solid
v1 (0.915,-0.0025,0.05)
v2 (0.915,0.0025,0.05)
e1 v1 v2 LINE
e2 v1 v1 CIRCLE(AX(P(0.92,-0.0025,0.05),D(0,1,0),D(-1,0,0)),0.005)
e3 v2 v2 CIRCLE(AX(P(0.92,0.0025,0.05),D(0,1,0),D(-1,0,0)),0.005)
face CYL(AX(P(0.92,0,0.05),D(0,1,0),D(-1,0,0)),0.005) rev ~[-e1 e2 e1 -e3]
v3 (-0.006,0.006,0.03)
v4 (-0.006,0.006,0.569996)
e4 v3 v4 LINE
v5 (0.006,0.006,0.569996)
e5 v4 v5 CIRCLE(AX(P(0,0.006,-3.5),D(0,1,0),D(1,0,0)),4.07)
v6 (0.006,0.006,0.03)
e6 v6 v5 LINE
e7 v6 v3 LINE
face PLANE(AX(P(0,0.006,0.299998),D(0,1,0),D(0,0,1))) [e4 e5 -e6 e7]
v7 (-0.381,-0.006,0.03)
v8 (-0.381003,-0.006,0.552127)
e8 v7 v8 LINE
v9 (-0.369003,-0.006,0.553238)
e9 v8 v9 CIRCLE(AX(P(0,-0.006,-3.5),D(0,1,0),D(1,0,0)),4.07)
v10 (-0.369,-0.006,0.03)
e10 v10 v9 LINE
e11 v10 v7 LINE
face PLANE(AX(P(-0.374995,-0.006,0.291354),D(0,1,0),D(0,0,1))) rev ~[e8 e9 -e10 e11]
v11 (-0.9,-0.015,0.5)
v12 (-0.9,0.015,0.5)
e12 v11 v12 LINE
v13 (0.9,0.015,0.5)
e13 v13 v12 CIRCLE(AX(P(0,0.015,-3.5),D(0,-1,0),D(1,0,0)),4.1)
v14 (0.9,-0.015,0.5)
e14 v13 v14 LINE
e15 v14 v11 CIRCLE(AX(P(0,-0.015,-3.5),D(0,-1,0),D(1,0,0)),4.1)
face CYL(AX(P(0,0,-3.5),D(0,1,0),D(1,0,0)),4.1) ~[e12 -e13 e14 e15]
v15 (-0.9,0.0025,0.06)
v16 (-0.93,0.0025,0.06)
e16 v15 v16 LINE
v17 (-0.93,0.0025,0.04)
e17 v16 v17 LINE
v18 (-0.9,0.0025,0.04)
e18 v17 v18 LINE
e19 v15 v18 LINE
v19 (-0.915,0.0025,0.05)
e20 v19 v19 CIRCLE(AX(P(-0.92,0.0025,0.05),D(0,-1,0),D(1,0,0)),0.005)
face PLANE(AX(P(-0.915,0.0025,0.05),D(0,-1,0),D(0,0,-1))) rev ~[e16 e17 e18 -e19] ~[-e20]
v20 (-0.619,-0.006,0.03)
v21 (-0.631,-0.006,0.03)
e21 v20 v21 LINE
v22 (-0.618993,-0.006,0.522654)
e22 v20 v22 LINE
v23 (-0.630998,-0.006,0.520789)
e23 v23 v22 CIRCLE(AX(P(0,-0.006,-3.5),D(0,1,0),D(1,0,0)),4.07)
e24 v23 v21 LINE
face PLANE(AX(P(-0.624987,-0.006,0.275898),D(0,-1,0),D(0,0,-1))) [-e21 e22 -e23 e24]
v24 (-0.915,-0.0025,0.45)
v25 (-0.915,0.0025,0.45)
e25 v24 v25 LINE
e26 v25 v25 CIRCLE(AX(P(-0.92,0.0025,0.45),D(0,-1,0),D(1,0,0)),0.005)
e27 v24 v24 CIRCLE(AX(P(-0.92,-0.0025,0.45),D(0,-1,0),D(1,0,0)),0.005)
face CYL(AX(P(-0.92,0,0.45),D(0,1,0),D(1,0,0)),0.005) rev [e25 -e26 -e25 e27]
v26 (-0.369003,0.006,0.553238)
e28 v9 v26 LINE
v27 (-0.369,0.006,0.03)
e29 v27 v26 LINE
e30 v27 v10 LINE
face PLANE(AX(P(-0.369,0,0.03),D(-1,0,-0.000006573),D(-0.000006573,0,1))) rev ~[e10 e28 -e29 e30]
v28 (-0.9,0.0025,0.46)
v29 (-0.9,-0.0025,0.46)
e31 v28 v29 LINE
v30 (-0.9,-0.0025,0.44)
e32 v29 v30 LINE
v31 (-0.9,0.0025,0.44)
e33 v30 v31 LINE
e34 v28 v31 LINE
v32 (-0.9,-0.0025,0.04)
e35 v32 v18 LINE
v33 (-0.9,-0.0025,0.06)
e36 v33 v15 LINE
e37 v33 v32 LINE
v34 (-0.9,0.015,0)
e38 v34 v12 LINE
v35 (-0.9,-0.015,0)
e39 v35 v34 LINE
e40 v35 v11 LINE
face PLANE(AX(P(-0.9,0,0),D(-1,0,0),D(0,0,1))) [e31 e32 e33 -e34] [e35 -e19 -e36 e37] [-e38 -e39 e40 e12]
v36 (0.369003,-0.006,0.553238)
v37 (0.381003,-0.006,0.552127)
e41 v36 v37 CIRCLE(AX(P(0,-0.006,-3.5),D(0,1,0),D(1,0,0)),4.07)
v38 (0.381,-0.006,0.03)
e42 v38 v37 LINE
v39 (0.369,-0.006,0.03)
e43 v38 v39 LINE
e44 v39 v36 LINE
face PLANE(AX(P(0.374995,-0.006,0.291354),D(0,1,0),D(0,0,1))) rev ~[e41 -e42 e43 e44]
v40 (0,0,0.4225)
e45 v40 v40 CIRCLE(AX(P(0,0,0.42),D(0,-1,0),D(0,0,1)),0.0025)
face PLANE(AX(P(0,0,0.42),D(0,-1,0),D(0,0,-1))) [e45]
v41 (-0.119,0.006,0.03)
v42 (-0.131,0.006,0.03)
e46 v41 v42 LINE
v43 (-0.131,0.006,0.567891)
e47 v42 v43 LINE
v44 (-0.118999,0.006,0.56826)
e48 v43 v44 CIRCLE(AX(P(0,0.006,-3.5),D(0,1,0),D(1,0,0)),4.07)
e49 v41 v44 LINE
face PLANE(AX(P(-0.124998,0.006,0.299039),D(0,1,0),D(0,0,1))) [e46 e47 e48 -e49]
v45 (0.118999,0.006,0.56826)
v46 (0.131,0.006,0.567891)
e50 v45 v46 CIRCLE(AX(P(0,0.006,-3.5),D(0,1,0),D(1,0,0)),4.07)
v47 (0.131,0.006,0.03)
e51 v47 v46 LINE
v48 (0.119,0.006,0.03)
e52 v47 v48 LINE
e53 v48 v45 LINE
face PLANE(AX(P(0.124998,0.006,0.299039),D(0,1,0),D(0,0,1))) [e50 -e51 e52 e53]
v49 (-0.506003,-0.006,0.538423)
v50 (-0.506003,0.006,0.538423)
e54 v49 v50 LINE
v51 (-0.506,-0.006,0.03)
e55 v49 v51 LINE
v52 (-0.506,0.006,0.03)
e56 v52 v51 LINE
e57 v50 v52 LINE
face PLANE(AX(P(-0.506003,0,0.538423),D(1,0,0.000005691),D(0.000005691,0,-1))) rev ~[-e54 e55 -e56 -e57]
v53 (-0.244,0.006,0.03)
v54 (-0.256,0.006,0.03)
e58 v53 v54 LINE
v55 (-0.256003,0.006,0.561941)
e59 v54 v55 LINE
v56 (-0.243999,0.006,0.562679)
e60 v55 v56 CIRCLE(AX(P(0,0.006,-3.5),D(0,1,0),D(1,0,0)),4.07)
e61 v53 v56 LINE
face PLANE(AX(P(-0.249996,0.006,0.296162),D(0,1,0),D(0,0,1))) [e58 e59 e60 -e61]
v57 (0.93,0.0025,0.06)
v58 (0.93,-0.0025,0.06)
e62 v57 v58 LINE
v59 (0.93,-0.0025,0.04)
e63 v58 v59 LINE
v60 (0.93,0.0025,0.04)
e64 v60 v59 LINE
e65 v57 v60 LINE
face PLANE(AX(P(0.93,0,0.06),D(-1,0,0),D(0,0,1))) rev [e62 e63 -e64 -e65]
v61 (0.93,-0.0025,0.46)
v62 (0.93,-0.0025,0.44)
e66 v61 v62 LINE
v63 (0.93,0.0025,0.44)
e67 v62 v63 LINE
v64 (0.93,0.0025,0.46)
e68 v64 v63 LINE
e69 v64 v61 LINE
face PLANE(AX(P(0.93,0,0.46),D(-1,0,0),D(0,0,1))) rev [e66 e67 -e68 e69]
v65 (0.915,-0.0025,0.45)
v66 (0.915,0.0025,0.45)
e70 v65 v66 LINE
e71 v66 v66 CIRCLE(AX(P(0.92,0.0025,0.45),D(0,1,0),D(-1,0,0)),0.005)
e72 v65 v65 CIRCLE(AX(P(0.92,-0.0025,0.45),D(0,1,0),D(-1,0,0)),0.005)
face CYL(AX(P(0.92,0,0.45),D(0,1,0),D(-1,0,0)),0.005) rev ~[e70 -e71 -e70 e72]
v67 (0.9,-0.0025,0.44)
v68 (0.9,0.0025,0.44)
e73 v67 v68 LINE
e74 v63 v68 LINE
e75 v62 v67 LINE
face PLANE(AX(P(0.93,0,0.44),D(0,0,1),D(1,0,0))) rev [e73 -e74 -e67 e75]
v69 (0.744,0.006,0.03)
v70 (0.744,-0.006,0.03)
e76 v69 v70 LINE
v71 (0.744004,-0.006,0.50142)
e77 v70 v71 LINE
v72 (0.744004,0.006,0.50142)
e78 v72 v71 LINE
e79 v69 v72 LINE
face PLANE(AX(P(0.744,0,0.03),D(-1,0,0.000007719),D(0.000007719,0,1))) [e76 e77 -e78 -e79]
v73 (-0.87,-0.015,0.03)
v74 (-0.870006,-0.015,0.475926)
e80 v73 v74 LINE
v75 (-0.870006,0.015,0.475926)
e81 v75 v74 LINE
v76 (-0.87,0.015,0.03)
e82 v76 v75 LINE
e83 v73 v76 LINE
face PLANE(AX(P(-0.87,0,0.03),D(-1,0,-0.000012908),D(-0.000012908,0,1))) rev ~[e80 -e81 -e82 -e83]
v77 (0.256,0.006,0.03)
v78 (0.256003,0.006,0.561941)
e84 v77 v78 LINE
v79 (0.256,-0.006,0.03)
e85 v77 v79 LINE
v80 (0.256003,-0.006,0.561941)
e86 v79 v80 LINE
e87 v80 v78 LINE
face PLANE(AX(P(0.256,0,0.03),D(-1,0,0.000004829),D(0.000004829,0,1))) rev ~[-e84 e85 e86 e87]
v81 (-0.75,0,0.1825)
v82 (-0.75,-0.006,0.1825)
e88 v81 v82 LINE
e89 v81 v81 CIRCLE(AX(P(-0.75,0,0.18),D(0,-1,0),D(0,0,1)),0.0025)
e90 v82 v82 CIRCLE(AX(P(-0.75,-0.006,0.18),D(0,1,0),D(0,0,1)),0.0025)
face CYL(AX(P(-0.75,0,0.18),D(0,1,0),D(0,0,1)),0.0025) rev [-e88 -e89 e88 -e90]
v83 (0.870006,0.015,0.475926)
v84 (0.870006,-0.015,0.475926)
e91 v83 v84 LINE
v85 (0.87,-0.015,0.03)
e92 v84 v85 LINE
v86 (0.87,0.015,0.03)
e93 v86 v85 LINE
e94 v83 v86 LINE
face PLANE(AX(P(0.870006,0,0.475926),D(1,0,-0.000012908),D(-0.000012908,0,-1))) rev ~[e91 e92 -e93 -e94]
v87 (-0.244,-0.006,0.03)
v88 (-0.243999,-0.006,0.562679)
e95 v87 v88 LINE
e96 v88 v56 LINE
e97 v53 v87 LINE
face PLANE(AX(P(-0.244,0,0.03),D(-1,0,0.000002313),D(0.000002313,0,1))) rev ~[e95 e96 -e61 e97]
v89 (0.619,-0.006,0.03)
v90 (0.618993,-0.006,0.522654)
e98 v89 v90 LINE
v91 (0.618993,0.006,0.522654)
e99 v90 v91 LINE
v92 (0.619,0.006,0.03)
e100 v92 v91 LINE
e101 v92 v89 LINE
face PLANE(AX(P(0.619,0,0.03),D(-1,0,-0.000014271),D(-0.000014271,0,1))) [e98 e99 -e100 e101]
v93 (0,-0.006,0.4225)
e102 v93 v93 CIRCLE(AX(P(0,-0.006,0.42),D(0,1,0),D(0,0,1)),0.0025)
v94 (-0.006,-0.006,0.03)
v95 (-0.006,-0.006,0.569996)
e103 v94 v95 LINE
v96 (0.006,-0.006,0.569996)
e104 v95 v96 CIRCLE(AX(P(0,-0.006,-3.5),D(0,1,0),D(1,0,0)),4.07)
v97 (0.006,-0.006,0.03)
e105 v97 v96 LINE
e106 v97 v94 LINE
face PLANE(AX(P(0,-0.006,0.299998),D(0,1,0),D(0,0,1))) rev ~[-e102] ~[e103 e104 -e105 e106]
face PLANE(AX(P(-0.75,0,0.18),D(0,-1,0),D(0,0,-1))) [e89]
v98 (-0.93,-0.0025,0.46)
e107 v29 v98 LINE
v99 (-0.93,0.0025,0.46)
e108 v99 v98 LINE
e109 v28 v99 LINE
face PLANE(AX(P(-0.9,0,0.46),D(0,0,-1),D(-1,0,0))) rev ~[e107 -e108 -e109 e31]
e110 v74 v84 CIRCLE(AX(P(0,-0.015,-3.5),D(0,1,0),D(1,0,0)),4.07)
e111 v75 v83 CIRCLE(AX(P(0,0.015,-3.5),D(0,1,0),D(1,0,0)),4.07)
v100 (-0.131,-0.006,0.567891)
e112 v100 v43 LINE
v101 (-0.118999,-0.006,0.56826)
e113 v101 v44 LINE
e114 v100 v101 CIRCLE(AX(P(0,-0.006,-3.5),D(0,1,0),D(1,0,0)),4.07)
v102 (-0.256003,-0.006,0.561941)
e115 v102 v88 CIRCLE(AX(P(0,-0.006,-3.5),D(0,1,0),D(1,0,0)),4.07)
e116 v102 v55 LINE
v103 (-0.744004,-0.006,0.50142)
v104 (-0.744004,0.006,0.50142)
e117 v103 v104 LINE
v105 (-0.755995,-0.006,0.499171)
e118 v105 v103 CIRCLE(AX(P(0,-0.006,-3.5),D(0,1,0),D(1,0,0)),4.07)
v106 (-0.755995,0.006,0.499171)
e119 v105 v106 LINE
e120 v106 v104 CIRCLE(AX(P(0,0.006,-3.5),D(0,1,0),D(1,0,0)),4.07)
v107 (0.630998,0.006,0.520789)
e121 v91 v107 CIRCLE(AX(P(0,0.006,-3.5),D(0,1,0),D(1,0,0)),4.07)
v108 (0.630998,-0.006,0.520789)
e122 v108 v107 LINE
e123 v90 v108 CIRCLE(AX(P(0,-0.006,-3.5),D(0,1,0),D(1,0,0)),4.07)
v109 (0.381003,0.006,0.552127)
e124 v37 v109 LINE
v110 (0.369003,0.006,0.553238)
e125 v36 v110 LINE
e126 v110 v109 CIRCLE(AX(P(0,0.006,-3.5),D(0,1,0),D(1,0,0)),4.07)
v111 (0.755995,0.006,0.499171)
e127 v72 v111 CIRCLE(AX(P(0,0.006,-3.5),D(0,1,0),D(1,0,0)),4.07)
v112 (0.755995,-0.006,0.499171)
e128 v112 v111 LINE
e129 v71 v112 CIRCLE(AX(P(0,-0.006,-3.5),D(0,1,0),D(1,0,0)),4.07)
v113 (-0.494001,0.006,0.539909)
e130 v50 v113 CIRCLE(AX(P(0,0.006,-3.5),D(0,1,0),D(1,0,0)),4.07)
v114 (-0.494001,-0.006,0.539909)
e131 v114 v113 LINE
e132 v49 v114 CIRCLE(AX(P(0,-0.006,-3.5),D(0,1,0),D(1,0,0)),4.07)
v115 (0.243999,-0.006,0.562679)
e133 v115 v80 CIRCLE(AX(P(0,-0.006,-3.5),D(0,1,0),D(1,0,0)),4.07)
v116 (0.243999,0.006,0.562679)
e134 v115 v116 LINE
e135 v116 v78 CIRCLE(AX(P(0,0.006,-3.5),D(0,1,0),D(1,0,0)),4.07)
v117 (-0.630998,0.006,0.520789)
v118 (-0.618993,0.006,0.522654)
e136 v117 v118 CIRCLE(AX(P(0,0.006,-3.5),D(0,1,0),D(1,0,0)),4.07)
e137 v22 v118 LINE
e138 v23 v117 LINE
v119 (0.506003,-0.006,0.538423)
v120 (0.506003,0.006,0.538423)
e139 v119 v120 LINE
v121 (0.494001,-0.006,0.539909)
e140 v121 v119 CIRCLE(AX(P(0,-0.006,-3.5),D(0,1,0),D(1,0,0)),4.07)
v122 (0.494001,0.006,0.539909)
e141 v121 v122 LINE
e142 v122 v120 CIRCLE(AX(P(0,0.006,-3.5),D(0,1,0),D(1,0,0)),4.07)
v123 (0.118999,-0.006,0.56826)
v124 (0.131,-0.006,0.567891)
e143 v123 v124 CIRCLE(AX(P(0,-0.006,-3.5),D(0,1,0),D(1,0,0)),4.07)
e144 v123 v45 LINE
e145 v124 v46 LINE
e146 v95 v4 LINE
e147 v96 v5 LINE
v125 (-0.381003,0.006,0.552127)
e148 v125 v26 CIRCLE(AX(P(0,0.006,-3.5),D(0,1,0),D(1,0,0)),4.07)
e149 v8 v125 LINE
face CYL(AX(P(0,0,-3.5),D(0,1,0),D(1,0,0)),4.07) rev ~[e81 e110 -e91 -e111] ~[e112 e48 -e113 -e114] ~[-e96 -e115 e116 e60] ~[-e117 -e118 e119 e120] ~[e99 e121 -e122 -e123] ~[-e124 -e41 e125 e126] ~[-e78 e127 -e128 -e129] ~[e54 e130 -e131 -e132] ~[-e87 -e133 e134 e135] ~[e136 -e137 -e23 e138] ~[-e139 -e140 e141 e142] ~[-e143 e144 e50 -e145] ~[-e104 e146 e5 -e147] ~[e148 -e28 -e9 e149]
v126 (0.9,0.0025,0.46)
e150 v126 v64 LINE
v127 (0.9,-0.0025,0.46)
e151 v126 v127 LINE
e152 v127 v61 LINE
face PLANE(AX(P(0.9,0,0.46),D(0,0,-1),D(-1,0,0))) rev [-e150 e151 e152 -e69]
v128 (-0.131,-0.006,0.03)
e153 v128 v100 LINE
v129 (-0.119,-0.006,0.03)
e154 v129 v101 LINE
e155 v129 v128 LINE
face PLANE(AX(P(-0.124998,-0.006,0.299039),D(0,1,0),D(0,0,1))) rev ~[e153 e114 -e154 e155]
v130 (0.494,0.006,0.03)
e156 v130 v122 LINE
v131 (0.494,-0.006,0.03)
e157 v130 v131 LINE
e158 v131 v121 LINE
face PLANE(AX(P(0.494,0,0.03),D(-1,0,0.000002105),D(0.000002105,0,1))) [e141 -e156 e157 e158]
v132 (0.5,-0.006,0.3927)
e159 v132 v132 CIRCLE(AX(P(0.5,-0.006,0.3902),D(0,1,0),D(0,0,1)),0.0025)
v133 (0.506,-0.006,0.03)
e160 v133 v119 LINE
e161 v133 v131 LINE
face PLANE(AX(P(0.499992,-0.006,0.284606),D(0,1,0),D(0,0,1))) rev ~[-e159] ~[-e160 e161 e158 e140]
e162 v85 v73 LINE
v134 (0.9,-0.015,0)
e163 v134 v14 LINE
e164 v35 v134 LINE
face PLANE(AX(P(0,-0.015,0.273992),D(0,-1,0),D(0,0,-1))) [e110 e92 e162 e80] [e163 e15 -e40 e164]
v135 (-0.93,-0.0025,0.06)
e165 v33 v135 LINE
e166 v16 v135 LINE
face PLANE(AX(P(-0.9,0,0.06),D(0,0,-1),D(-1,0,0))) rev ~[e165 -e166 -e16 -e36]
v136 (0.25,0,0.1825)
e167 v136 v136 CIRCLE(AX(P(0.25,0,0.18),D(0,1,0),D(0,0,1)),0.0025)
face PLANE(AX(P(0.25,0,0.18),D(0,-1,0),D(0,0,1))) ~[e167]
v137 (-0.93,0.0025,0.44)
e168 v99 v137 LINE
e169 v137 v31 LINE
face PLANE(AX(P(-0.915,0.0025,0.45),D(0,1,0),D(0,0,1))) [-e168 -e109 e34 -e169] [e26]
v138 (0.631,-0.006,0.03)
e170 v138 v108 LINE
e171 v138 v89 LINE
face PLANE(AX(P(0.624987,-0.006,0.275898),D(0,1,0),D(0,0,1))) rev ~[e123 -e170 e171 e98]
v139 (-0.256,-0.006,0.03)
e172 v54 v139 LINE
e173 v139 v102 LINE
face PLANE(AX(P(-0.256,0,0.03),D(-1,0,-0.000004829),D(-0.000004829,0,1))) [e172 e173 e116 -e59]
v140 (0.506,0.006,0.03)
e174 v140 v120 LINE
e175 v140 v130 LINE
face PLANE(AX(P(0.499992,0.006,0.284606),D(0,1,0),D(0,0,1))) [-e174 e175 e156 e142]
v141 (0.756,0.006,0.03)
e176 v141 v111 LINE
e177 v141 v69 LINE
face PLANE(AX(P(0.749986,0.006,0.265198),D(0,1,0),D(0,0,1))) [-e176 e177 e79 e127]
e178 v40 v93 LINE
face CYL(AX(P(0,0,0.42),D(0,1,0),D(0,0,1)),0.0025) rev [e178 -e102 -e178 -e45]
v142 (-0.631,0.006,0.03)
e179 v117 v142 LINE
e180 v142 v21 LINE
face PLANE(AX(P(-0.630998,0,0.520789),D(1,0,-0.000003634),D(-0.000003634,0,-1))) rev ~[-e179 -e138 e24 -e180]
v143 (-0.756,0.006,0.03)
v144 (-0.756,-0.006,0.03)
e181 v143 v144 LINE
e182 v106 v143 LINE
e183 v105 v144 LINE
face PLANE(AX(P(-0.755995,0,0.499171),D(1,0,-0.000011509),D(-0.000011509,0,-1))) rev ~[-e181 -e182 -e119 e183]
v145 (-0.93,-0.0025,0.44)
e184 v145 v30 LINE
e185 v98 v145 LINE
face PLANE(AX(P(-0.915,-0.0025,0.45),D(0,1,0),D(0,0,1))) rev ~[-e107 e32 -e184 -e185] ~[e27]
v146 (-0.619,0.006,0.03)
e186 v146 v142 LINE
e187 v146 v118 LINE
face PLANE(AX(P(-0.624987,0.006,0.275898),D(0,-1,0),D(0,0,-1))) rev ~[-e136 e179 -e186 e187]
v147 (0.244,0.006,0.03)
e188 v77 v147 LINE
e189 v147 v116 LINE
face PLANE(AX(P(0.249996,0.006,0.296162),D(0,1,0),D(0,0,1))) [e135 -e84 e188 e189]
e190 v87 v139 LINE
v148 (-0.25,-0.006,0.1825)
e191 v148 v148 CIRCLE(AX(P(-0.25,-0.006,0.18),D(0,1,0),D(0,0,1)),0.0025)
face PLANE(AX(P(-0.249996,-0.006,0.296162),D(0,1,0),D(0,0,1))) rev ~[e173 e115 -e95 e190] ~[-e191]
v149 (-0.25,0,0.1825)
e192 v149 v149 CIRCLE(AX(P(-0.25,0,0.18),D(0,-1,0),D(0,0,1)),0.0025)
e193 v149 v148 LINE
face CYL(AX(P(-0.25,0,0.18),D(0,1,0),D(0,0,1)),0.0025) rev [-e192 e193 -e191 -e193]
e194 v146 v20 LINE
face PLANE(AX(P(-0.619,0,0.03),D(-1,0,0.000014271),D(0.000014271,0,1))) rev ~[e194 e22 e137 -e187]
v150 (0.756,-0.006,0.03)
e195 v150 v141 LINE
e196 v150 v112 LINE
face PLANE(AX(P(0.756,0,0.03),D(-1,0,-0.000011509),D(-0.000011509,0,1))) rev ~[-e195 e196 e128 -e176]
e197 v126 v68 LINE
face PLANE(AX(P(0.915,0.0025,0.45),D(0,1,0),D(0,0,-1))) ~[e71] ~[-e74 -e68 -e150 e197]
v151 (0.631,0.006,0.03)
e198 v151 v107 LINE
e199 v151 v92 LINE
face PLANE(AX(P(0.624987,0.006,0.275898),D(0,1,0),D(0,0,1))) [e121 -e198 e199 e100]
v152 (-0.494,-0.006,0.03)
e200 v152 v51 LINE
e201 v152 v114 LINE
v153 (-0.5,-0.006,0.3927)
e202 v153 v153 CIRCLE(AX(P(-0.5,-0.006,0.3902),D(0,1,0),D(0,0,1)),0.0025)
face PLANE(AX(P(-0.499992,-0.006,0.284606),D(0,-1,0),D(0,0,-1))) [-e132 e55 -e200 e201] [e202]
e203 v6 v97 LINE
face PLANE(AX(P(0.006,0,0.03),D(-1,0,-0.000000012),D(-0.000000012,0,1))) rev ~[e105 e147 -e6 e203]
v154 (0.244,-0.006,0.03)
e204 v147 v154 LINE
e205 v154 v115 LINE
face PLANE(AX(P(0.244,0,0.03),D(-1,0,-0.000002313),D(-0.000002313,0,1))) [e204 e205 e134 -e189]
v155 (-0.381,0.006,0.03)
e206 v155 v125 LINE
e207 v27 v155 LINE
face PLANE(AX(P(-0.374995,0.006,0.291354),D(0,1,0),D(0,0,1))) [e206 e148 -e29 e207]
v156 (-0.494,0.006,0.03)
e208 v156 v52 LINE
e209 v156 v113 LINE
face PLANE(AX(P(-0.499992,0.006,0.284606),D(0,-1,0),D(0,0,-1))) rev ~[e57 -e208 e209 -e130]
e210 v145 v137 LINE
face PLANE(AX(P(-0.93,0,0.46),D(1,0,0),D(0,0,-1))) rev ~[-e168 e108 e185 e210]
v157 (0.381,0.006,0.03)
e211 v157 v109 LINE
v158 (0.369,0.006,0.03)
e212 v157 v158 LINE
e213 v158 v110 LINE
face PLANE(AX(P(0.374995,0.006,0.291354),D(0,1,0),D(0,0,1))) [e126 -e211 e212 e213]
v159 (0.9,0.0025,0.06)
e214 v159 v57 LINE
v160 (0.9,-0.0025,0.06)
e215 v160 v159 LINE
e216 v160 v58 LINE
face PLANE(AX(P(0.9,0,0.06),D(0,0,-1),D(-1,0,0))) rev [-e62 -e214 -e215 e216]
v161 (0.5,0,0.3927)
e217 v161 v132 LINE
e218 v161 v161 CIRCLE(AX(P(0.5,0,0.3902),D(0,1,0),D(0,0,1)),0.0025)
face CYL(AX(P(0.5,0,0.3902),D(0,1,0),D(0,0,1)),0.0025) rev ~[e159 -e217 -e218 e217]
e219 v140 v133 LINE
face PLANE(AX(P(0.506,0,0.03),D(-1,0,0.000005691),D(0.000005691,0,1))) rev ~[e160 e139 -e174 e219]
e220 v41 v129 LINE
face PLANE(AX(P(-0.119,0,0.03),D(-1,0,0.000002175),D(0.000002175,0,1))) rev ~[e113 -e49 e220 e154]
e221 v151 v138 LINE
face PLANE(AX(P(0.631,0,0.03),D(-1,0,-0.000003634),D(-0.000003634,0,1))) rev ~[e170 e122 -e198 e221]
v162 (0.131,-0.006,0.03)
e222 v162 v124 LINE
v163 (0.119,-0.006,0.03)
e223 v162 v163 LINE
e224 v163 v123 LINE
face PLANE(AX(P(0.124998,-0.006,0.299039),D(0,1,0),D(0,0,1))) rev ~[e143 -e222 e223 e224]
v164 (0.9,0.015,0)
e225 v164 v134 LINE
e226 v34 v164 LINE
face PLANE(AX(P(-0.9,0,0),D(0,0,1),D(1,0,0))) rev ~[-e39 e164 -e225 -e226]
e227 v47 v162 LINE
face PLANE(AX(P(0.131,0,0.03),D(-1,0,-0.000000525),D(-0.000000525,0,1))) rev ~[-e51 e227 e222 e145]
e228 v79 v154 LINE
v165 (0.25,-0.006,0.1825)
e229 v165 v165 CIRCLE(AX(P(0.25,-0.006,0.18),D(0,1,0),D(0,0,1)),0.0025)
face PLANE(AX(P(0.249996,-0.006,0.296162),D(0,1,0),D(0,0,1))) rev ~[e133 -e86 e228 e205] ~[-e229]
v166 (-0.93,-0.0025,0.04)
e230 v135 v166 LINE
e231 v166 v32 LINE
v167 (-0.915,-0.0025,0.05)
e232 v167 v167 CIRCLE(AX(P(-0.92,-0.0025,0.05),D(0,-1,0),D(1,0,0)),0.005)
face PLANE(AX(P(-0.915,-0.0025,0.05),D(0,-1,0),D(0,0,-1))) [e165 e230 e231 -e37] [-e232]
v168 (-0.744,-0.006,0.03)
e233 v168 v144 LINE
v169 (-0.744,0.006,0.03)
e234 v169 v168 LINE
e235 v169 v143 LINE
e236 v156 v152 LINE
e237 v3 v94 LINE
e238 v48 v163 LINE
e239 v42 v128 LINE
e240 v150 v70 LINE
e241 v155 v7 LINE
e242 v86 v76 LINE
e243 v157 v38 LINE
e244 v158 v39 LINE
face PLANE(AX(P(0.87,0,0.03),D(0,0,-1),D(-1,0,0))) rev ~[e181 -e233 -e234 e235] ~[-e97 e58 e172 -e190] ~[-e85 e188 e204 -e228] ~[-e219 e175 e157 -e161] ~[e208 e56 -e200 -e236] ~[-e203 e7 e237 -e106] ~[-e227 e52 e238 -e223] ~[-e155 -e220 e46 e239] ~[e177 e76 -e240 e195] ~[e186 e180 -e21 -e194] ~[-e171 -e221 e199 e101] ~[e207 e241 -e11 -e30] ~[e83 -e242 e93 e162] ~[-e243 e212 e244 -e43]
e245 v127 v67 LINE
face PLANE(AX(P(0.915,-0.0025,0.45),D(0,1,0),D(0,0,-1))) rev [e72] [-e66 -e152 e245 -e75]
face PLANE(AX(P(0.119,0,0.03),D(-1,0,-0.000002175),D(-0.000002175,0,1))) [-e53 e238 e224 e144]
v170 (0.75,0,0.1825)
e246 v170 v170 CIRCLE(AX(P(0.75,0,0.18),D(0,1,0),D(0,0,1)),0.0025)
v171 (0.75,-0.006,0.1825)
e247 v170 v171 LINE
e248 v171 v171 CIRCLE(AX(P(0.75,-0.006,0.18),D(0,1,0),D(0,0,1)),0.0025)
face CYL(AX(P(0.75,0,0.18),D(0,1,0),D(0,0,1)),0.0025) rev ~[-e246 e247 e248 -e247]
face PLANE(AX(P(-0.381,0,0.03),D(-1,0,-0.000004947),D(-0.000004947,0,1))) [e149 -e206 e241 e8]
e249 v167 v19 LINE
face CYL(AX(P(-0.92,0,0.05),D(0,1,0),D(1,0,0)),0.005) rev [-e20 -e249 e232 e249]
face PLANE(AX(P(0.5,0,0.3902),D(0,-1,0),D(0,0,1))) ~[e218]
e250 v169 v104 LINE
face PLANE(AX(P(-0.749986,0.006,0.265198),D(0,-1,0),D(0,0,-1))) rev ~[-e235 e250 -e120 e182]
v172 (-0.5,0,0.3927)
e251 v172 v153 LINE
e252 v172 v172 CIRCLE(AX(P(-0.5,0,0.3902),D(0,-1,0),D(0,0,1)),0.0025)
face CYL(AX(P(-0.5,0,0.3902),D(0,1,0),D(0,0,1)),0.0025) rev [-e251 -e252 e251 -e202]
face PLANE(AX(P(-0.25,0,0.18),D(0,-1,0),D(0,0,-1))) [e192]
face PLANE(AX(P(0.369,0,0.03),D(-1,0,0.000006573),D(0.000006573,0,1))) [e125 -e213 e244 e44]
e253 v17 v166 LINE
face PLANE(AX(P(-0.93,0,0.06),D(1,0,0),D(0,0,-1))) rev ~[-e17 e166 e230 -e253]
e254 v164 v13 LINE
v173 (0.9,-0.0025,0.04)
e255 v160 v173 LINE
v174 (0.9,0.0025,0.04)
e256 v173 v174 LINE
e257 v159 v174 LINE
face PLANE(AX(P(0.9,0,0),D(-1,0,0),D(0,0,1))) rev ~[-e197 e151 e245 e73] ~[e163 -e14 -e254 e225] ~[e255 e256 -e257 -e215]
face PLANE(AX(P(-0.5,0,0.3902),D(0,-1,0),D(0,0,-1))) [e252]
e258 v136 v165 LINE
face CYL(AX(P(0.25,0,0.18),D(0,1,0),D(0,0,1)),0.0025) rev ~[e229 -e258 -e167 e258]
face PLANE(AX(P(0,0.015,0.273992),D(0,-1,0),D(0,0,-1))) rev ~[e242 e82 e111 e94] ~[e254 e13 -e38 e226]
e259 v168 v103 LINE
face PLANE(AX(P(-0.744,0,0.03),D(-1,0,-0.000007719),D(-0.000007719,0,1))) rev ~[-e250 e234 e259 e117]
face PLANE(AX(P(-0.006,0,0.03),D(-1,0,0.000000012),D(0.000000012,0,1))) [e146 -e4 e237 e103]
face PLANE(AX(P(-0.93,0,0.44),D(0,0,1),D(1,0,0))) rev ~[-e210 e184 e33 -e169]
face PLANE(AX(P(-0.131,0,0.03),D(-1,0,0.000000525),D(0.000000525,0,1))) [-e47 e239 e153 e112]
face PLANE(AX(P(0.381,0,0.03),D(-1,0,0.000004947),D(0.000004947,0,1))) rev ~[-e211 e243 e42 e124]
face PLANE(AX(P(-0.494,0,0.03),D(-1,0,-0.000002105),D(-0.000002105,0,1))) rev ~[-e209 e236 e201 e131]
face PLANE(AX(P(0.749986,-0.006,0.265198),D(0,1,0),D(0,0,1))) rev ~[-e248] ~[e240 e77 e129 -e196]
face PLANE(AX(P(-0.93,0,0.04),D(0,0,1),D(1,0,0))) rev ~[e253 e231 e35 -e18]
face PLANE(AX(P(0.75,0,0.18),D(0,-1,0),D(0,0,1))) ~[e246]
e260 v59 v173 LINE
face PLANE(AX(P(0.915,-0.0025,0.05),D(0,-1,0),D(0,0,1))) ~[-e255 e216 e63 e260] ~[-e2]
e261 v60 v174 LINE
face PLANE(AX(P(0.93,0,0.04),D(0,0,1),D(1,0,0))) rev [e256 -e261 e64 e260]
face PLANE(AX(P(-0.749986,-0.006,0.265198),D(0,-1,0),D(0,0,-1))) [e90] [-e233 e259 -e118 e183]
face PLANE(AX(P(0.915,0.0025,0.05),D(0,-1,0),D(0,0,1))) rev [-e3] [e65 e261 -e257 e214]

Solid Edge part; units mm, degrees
sketch "Sketch1" plane through (0, 0, 0) normal (0, -1, 0) x (1, 0, 0)
  line L0 (-0.87, 0.03) -> (-0.87, 0.4759)
  arc A0 (-0.87, 0.4759) -> (0.87, 0.4759) centre (0, -3.5) cw
  line L1 (0.87, 0.4759) -> (0.87, 0.03)
  line L2 (0.87, 0.03) -> (-0.87, 0.03)
  line L3 (-0.9, 0) -> (0.9, 0)
  line L4 (0.9, 0) -> (0.9, 0.5)
  line L5 (-0.9, 0) -> (-0.9, 0.5)
  arc A1 (0.9, 0.5) -> (-0.9, 0.5) centre (0, -3.5) ccw
  dimension "D1" = 0.9
  dimension "D2" = 0.9
extrude "Protrusion1" add sketch "Sketch1" along normal mid plane 0.03
sketch "Sketch2" plane through (0, 0, 0) normal (0, -1, 0) x (1, 0, 0)
  line L0 (-0.756, 0.4992) -> (-0.756, 0.03)
  line L1 (-0.744, 0.03) -> (-0.756, 0.03)
  line L2 (-0.744, 0.03) -> (-0.744, 0.5014)
  arc A0 (-0.756, 0.4992) -> (-0.744, 0.5014) centre (0, -3.5) cw
  line L3 (-0.631, 0.5208) -> (-0.631, 0.03)
  line L4 (-0.619, 0.03) -> (-0.631, 0.03)
  line L5 (-0.619, 0.03) -> (-0.619, 0.5227)
  arc A1 (-0.631, 0.5208) -> (-0.619, 0.5227) centre (0, -3.5) cw
  line L6 (-0.506, 0.5384) -> (-0.506, 0.03)
  line L7 (-0.494, 0.03) -> (-0.506, 0.03)
  line L8 (-0.494, 0.03) -> (-0.494, 0.5399)
  arc A2 (-0.506, 0.5384) -> (-0.494, 0.5399) centre (0, -3.5) cw
  line L9 (-0.381, 0.03) -> (-0.381, 0.5521)
  arc A3 (-0.381, 0.5521) -> (-0.369, 0.5532) centre (0, -3.5) cw
  line L10 (-0.369, 0.03) -> (-0.369, 0.5532)
  line L11 (-0.369, 0.03) -> (-0.381, 0.03)
  line L12 (-0.256, 0.03) -> (-0.256, 0.5619)
  arc A4 (-0.256, 0.5619) -> (-0.244, 0.5627) centre (0, -3.5) cw
  line L13 (-0.244, 0.03) -> (-0.244, 0.5627)
  line L14 (-0.244, 0.03) -> (-0.256, 0.03)
  line L15 (-0.131, 0.03) -> (-0.131, 0.5679)
  arc A5 (-0.131, 0.5679) -> (-0.119, 0.5683) centre (0, -3.5) cw
  line L16 (-0.119, 0.03) -> (-0.119, 0.5683)
  line L17 (-0.119, 0.03) -> (-0.131, 0.03)
  line L18 (-0.006, 0.03) -> (-0.006, 0.57)
  arc A6 (-0.006, 0.57) -> (0.006, 0.57) centre (0, -3.5) cw
  line L19 (0.006, 0.03) -> (0.006, 0.57)
  line L20 (0.006, 0.03) -> (-0.006, 0.03)
  line L21 (0.119, 0.03) -> (0.119, 0.5683)
  arc A7 (0.119, 0.5683) -> (0.131, 0.5679) centre (0, -3.5) cw
  line L22 (0.131, 0.03) -> (0.131, 0.5679)
  line L23 (0.131, 0.03) -> (0.119, 0.03)
  line L24 (0.244, 0.03) -> (0.244, 0.5627)
  arc A8 (0.244, 0.5627) -> (0.256, 0.5619) centre (0, -3.5) cw
  line L25 (0.256, 0.03) -> (0.256, 0.5619)
  line L26 (0.256, 0.03) -> (0.244, 0.03)
  line L27 (0.369, 0.03) -> (0.369, 0.5532)
  arc A9 (0.369, 0.5532) -> (0.381, 0.5521) centre (0, -3.5) cw
  line L28 (0.381, 0.03) -> (0.381, 0.5521)
  line L29 (0.381, 0.03) -> (0.369, 0.03)
  line L30 (0.494, 0.03) -> (0.494, 0.5399)
  arc A10 (0.494, 0.5399) -> (0.506, 0.5384) centre (0, -3.5) cw
  line L31 (0.506, 0.03) -> (0.506, 0.5384)
  line L32 (0.506, 0.03) -> (0.494, 0.03)
  line L33 (0.619, 0.03) -> (0.619, 0.5227)
  arc A11 (0.619, 0.5227) -> (0.631, 0.5208) centre (0, -3.5) cw
  line L34 (0.631, 0.03) -> (0.631, 0.5208)
  line L35 (0.631, 0.03) -> (0.619, 0.03)
  arc A12 (0.744, 0.5014) -> (0.756, 0.4992) centre (0, -3.5) cw
  line L36 (0.756, 0.03) -> (0.756, 0.4992)
  line L37 (0.756, 0.03) -> (0.744, 0.03)
  line L38 (0.744, 0.03) -> (0.744, 0.5014)
  dimension "D1" = 0.012
  dimension "D2" = 0.125
extrude "Stangen" add sketch "Sketch2" along normal mid plane 0.012
hole "Bohrung_1" at (0, 0, 0.42) direction (0, -1, 0) diameter 0.005 end through all
hole "Bohrung_2" at (-0.25, 0, 0.18) direction (0, -1, 0) diameter 0.005 end through all
hole "Hole1" at (-0.5, 0, 0.3902) direction (0, -1, 0) diameter 0.005 end through all
hole "Hole2" at (-0.75, 0, 0.18) direction (0, -1, 0) diameter 0.005 end through all
sketch "Sketch3" plane through (0, 0, 0) normal (0, -1, 0) x (1, 0, 0)
  line L0 (-0.9, 0.06) -> (-0.93, 0.06)
  line L1 (-0.93, 0.06) -> (-0.93, 0.04)
  line L2 (-0.93, 0.04) -> (-0.9, 0.04)
  line L3 (-0.9, 0.06) -> (-0.9, 0.04)
  circle A0 centre (-0.92, 0.05) radius 0.005
  circle A1 centre (-0.92, 0.45) radius 0.005
  line L4 (-0.9, 0.46) -> (-0.9, 0.44)
  line L5 (-0.93, 0.44) -> (-0.9, 0.44)
  line L6 (-0.93, 0.46) -> (-0.93, 0.44)
  line L7 (-0.9, 0.46) -> (-0.93, 0.46)
  dimension "D1" = 0.02
  dimension "D2" = 0.01
  dimension "D3" = 0.03
  dimension "D4" = 0.02
  dimension "D5" = 0.05
  dimension "D6" = 0.4
extrude "Laschen" add sketch "Sketch3" along normal mid plane 0.005
mirror "Mirror1" about plane through (0, 0, 0) normal (1, 0, 0) of "Bohrung_2", "Hole1", "Hole2", "Laschen"
